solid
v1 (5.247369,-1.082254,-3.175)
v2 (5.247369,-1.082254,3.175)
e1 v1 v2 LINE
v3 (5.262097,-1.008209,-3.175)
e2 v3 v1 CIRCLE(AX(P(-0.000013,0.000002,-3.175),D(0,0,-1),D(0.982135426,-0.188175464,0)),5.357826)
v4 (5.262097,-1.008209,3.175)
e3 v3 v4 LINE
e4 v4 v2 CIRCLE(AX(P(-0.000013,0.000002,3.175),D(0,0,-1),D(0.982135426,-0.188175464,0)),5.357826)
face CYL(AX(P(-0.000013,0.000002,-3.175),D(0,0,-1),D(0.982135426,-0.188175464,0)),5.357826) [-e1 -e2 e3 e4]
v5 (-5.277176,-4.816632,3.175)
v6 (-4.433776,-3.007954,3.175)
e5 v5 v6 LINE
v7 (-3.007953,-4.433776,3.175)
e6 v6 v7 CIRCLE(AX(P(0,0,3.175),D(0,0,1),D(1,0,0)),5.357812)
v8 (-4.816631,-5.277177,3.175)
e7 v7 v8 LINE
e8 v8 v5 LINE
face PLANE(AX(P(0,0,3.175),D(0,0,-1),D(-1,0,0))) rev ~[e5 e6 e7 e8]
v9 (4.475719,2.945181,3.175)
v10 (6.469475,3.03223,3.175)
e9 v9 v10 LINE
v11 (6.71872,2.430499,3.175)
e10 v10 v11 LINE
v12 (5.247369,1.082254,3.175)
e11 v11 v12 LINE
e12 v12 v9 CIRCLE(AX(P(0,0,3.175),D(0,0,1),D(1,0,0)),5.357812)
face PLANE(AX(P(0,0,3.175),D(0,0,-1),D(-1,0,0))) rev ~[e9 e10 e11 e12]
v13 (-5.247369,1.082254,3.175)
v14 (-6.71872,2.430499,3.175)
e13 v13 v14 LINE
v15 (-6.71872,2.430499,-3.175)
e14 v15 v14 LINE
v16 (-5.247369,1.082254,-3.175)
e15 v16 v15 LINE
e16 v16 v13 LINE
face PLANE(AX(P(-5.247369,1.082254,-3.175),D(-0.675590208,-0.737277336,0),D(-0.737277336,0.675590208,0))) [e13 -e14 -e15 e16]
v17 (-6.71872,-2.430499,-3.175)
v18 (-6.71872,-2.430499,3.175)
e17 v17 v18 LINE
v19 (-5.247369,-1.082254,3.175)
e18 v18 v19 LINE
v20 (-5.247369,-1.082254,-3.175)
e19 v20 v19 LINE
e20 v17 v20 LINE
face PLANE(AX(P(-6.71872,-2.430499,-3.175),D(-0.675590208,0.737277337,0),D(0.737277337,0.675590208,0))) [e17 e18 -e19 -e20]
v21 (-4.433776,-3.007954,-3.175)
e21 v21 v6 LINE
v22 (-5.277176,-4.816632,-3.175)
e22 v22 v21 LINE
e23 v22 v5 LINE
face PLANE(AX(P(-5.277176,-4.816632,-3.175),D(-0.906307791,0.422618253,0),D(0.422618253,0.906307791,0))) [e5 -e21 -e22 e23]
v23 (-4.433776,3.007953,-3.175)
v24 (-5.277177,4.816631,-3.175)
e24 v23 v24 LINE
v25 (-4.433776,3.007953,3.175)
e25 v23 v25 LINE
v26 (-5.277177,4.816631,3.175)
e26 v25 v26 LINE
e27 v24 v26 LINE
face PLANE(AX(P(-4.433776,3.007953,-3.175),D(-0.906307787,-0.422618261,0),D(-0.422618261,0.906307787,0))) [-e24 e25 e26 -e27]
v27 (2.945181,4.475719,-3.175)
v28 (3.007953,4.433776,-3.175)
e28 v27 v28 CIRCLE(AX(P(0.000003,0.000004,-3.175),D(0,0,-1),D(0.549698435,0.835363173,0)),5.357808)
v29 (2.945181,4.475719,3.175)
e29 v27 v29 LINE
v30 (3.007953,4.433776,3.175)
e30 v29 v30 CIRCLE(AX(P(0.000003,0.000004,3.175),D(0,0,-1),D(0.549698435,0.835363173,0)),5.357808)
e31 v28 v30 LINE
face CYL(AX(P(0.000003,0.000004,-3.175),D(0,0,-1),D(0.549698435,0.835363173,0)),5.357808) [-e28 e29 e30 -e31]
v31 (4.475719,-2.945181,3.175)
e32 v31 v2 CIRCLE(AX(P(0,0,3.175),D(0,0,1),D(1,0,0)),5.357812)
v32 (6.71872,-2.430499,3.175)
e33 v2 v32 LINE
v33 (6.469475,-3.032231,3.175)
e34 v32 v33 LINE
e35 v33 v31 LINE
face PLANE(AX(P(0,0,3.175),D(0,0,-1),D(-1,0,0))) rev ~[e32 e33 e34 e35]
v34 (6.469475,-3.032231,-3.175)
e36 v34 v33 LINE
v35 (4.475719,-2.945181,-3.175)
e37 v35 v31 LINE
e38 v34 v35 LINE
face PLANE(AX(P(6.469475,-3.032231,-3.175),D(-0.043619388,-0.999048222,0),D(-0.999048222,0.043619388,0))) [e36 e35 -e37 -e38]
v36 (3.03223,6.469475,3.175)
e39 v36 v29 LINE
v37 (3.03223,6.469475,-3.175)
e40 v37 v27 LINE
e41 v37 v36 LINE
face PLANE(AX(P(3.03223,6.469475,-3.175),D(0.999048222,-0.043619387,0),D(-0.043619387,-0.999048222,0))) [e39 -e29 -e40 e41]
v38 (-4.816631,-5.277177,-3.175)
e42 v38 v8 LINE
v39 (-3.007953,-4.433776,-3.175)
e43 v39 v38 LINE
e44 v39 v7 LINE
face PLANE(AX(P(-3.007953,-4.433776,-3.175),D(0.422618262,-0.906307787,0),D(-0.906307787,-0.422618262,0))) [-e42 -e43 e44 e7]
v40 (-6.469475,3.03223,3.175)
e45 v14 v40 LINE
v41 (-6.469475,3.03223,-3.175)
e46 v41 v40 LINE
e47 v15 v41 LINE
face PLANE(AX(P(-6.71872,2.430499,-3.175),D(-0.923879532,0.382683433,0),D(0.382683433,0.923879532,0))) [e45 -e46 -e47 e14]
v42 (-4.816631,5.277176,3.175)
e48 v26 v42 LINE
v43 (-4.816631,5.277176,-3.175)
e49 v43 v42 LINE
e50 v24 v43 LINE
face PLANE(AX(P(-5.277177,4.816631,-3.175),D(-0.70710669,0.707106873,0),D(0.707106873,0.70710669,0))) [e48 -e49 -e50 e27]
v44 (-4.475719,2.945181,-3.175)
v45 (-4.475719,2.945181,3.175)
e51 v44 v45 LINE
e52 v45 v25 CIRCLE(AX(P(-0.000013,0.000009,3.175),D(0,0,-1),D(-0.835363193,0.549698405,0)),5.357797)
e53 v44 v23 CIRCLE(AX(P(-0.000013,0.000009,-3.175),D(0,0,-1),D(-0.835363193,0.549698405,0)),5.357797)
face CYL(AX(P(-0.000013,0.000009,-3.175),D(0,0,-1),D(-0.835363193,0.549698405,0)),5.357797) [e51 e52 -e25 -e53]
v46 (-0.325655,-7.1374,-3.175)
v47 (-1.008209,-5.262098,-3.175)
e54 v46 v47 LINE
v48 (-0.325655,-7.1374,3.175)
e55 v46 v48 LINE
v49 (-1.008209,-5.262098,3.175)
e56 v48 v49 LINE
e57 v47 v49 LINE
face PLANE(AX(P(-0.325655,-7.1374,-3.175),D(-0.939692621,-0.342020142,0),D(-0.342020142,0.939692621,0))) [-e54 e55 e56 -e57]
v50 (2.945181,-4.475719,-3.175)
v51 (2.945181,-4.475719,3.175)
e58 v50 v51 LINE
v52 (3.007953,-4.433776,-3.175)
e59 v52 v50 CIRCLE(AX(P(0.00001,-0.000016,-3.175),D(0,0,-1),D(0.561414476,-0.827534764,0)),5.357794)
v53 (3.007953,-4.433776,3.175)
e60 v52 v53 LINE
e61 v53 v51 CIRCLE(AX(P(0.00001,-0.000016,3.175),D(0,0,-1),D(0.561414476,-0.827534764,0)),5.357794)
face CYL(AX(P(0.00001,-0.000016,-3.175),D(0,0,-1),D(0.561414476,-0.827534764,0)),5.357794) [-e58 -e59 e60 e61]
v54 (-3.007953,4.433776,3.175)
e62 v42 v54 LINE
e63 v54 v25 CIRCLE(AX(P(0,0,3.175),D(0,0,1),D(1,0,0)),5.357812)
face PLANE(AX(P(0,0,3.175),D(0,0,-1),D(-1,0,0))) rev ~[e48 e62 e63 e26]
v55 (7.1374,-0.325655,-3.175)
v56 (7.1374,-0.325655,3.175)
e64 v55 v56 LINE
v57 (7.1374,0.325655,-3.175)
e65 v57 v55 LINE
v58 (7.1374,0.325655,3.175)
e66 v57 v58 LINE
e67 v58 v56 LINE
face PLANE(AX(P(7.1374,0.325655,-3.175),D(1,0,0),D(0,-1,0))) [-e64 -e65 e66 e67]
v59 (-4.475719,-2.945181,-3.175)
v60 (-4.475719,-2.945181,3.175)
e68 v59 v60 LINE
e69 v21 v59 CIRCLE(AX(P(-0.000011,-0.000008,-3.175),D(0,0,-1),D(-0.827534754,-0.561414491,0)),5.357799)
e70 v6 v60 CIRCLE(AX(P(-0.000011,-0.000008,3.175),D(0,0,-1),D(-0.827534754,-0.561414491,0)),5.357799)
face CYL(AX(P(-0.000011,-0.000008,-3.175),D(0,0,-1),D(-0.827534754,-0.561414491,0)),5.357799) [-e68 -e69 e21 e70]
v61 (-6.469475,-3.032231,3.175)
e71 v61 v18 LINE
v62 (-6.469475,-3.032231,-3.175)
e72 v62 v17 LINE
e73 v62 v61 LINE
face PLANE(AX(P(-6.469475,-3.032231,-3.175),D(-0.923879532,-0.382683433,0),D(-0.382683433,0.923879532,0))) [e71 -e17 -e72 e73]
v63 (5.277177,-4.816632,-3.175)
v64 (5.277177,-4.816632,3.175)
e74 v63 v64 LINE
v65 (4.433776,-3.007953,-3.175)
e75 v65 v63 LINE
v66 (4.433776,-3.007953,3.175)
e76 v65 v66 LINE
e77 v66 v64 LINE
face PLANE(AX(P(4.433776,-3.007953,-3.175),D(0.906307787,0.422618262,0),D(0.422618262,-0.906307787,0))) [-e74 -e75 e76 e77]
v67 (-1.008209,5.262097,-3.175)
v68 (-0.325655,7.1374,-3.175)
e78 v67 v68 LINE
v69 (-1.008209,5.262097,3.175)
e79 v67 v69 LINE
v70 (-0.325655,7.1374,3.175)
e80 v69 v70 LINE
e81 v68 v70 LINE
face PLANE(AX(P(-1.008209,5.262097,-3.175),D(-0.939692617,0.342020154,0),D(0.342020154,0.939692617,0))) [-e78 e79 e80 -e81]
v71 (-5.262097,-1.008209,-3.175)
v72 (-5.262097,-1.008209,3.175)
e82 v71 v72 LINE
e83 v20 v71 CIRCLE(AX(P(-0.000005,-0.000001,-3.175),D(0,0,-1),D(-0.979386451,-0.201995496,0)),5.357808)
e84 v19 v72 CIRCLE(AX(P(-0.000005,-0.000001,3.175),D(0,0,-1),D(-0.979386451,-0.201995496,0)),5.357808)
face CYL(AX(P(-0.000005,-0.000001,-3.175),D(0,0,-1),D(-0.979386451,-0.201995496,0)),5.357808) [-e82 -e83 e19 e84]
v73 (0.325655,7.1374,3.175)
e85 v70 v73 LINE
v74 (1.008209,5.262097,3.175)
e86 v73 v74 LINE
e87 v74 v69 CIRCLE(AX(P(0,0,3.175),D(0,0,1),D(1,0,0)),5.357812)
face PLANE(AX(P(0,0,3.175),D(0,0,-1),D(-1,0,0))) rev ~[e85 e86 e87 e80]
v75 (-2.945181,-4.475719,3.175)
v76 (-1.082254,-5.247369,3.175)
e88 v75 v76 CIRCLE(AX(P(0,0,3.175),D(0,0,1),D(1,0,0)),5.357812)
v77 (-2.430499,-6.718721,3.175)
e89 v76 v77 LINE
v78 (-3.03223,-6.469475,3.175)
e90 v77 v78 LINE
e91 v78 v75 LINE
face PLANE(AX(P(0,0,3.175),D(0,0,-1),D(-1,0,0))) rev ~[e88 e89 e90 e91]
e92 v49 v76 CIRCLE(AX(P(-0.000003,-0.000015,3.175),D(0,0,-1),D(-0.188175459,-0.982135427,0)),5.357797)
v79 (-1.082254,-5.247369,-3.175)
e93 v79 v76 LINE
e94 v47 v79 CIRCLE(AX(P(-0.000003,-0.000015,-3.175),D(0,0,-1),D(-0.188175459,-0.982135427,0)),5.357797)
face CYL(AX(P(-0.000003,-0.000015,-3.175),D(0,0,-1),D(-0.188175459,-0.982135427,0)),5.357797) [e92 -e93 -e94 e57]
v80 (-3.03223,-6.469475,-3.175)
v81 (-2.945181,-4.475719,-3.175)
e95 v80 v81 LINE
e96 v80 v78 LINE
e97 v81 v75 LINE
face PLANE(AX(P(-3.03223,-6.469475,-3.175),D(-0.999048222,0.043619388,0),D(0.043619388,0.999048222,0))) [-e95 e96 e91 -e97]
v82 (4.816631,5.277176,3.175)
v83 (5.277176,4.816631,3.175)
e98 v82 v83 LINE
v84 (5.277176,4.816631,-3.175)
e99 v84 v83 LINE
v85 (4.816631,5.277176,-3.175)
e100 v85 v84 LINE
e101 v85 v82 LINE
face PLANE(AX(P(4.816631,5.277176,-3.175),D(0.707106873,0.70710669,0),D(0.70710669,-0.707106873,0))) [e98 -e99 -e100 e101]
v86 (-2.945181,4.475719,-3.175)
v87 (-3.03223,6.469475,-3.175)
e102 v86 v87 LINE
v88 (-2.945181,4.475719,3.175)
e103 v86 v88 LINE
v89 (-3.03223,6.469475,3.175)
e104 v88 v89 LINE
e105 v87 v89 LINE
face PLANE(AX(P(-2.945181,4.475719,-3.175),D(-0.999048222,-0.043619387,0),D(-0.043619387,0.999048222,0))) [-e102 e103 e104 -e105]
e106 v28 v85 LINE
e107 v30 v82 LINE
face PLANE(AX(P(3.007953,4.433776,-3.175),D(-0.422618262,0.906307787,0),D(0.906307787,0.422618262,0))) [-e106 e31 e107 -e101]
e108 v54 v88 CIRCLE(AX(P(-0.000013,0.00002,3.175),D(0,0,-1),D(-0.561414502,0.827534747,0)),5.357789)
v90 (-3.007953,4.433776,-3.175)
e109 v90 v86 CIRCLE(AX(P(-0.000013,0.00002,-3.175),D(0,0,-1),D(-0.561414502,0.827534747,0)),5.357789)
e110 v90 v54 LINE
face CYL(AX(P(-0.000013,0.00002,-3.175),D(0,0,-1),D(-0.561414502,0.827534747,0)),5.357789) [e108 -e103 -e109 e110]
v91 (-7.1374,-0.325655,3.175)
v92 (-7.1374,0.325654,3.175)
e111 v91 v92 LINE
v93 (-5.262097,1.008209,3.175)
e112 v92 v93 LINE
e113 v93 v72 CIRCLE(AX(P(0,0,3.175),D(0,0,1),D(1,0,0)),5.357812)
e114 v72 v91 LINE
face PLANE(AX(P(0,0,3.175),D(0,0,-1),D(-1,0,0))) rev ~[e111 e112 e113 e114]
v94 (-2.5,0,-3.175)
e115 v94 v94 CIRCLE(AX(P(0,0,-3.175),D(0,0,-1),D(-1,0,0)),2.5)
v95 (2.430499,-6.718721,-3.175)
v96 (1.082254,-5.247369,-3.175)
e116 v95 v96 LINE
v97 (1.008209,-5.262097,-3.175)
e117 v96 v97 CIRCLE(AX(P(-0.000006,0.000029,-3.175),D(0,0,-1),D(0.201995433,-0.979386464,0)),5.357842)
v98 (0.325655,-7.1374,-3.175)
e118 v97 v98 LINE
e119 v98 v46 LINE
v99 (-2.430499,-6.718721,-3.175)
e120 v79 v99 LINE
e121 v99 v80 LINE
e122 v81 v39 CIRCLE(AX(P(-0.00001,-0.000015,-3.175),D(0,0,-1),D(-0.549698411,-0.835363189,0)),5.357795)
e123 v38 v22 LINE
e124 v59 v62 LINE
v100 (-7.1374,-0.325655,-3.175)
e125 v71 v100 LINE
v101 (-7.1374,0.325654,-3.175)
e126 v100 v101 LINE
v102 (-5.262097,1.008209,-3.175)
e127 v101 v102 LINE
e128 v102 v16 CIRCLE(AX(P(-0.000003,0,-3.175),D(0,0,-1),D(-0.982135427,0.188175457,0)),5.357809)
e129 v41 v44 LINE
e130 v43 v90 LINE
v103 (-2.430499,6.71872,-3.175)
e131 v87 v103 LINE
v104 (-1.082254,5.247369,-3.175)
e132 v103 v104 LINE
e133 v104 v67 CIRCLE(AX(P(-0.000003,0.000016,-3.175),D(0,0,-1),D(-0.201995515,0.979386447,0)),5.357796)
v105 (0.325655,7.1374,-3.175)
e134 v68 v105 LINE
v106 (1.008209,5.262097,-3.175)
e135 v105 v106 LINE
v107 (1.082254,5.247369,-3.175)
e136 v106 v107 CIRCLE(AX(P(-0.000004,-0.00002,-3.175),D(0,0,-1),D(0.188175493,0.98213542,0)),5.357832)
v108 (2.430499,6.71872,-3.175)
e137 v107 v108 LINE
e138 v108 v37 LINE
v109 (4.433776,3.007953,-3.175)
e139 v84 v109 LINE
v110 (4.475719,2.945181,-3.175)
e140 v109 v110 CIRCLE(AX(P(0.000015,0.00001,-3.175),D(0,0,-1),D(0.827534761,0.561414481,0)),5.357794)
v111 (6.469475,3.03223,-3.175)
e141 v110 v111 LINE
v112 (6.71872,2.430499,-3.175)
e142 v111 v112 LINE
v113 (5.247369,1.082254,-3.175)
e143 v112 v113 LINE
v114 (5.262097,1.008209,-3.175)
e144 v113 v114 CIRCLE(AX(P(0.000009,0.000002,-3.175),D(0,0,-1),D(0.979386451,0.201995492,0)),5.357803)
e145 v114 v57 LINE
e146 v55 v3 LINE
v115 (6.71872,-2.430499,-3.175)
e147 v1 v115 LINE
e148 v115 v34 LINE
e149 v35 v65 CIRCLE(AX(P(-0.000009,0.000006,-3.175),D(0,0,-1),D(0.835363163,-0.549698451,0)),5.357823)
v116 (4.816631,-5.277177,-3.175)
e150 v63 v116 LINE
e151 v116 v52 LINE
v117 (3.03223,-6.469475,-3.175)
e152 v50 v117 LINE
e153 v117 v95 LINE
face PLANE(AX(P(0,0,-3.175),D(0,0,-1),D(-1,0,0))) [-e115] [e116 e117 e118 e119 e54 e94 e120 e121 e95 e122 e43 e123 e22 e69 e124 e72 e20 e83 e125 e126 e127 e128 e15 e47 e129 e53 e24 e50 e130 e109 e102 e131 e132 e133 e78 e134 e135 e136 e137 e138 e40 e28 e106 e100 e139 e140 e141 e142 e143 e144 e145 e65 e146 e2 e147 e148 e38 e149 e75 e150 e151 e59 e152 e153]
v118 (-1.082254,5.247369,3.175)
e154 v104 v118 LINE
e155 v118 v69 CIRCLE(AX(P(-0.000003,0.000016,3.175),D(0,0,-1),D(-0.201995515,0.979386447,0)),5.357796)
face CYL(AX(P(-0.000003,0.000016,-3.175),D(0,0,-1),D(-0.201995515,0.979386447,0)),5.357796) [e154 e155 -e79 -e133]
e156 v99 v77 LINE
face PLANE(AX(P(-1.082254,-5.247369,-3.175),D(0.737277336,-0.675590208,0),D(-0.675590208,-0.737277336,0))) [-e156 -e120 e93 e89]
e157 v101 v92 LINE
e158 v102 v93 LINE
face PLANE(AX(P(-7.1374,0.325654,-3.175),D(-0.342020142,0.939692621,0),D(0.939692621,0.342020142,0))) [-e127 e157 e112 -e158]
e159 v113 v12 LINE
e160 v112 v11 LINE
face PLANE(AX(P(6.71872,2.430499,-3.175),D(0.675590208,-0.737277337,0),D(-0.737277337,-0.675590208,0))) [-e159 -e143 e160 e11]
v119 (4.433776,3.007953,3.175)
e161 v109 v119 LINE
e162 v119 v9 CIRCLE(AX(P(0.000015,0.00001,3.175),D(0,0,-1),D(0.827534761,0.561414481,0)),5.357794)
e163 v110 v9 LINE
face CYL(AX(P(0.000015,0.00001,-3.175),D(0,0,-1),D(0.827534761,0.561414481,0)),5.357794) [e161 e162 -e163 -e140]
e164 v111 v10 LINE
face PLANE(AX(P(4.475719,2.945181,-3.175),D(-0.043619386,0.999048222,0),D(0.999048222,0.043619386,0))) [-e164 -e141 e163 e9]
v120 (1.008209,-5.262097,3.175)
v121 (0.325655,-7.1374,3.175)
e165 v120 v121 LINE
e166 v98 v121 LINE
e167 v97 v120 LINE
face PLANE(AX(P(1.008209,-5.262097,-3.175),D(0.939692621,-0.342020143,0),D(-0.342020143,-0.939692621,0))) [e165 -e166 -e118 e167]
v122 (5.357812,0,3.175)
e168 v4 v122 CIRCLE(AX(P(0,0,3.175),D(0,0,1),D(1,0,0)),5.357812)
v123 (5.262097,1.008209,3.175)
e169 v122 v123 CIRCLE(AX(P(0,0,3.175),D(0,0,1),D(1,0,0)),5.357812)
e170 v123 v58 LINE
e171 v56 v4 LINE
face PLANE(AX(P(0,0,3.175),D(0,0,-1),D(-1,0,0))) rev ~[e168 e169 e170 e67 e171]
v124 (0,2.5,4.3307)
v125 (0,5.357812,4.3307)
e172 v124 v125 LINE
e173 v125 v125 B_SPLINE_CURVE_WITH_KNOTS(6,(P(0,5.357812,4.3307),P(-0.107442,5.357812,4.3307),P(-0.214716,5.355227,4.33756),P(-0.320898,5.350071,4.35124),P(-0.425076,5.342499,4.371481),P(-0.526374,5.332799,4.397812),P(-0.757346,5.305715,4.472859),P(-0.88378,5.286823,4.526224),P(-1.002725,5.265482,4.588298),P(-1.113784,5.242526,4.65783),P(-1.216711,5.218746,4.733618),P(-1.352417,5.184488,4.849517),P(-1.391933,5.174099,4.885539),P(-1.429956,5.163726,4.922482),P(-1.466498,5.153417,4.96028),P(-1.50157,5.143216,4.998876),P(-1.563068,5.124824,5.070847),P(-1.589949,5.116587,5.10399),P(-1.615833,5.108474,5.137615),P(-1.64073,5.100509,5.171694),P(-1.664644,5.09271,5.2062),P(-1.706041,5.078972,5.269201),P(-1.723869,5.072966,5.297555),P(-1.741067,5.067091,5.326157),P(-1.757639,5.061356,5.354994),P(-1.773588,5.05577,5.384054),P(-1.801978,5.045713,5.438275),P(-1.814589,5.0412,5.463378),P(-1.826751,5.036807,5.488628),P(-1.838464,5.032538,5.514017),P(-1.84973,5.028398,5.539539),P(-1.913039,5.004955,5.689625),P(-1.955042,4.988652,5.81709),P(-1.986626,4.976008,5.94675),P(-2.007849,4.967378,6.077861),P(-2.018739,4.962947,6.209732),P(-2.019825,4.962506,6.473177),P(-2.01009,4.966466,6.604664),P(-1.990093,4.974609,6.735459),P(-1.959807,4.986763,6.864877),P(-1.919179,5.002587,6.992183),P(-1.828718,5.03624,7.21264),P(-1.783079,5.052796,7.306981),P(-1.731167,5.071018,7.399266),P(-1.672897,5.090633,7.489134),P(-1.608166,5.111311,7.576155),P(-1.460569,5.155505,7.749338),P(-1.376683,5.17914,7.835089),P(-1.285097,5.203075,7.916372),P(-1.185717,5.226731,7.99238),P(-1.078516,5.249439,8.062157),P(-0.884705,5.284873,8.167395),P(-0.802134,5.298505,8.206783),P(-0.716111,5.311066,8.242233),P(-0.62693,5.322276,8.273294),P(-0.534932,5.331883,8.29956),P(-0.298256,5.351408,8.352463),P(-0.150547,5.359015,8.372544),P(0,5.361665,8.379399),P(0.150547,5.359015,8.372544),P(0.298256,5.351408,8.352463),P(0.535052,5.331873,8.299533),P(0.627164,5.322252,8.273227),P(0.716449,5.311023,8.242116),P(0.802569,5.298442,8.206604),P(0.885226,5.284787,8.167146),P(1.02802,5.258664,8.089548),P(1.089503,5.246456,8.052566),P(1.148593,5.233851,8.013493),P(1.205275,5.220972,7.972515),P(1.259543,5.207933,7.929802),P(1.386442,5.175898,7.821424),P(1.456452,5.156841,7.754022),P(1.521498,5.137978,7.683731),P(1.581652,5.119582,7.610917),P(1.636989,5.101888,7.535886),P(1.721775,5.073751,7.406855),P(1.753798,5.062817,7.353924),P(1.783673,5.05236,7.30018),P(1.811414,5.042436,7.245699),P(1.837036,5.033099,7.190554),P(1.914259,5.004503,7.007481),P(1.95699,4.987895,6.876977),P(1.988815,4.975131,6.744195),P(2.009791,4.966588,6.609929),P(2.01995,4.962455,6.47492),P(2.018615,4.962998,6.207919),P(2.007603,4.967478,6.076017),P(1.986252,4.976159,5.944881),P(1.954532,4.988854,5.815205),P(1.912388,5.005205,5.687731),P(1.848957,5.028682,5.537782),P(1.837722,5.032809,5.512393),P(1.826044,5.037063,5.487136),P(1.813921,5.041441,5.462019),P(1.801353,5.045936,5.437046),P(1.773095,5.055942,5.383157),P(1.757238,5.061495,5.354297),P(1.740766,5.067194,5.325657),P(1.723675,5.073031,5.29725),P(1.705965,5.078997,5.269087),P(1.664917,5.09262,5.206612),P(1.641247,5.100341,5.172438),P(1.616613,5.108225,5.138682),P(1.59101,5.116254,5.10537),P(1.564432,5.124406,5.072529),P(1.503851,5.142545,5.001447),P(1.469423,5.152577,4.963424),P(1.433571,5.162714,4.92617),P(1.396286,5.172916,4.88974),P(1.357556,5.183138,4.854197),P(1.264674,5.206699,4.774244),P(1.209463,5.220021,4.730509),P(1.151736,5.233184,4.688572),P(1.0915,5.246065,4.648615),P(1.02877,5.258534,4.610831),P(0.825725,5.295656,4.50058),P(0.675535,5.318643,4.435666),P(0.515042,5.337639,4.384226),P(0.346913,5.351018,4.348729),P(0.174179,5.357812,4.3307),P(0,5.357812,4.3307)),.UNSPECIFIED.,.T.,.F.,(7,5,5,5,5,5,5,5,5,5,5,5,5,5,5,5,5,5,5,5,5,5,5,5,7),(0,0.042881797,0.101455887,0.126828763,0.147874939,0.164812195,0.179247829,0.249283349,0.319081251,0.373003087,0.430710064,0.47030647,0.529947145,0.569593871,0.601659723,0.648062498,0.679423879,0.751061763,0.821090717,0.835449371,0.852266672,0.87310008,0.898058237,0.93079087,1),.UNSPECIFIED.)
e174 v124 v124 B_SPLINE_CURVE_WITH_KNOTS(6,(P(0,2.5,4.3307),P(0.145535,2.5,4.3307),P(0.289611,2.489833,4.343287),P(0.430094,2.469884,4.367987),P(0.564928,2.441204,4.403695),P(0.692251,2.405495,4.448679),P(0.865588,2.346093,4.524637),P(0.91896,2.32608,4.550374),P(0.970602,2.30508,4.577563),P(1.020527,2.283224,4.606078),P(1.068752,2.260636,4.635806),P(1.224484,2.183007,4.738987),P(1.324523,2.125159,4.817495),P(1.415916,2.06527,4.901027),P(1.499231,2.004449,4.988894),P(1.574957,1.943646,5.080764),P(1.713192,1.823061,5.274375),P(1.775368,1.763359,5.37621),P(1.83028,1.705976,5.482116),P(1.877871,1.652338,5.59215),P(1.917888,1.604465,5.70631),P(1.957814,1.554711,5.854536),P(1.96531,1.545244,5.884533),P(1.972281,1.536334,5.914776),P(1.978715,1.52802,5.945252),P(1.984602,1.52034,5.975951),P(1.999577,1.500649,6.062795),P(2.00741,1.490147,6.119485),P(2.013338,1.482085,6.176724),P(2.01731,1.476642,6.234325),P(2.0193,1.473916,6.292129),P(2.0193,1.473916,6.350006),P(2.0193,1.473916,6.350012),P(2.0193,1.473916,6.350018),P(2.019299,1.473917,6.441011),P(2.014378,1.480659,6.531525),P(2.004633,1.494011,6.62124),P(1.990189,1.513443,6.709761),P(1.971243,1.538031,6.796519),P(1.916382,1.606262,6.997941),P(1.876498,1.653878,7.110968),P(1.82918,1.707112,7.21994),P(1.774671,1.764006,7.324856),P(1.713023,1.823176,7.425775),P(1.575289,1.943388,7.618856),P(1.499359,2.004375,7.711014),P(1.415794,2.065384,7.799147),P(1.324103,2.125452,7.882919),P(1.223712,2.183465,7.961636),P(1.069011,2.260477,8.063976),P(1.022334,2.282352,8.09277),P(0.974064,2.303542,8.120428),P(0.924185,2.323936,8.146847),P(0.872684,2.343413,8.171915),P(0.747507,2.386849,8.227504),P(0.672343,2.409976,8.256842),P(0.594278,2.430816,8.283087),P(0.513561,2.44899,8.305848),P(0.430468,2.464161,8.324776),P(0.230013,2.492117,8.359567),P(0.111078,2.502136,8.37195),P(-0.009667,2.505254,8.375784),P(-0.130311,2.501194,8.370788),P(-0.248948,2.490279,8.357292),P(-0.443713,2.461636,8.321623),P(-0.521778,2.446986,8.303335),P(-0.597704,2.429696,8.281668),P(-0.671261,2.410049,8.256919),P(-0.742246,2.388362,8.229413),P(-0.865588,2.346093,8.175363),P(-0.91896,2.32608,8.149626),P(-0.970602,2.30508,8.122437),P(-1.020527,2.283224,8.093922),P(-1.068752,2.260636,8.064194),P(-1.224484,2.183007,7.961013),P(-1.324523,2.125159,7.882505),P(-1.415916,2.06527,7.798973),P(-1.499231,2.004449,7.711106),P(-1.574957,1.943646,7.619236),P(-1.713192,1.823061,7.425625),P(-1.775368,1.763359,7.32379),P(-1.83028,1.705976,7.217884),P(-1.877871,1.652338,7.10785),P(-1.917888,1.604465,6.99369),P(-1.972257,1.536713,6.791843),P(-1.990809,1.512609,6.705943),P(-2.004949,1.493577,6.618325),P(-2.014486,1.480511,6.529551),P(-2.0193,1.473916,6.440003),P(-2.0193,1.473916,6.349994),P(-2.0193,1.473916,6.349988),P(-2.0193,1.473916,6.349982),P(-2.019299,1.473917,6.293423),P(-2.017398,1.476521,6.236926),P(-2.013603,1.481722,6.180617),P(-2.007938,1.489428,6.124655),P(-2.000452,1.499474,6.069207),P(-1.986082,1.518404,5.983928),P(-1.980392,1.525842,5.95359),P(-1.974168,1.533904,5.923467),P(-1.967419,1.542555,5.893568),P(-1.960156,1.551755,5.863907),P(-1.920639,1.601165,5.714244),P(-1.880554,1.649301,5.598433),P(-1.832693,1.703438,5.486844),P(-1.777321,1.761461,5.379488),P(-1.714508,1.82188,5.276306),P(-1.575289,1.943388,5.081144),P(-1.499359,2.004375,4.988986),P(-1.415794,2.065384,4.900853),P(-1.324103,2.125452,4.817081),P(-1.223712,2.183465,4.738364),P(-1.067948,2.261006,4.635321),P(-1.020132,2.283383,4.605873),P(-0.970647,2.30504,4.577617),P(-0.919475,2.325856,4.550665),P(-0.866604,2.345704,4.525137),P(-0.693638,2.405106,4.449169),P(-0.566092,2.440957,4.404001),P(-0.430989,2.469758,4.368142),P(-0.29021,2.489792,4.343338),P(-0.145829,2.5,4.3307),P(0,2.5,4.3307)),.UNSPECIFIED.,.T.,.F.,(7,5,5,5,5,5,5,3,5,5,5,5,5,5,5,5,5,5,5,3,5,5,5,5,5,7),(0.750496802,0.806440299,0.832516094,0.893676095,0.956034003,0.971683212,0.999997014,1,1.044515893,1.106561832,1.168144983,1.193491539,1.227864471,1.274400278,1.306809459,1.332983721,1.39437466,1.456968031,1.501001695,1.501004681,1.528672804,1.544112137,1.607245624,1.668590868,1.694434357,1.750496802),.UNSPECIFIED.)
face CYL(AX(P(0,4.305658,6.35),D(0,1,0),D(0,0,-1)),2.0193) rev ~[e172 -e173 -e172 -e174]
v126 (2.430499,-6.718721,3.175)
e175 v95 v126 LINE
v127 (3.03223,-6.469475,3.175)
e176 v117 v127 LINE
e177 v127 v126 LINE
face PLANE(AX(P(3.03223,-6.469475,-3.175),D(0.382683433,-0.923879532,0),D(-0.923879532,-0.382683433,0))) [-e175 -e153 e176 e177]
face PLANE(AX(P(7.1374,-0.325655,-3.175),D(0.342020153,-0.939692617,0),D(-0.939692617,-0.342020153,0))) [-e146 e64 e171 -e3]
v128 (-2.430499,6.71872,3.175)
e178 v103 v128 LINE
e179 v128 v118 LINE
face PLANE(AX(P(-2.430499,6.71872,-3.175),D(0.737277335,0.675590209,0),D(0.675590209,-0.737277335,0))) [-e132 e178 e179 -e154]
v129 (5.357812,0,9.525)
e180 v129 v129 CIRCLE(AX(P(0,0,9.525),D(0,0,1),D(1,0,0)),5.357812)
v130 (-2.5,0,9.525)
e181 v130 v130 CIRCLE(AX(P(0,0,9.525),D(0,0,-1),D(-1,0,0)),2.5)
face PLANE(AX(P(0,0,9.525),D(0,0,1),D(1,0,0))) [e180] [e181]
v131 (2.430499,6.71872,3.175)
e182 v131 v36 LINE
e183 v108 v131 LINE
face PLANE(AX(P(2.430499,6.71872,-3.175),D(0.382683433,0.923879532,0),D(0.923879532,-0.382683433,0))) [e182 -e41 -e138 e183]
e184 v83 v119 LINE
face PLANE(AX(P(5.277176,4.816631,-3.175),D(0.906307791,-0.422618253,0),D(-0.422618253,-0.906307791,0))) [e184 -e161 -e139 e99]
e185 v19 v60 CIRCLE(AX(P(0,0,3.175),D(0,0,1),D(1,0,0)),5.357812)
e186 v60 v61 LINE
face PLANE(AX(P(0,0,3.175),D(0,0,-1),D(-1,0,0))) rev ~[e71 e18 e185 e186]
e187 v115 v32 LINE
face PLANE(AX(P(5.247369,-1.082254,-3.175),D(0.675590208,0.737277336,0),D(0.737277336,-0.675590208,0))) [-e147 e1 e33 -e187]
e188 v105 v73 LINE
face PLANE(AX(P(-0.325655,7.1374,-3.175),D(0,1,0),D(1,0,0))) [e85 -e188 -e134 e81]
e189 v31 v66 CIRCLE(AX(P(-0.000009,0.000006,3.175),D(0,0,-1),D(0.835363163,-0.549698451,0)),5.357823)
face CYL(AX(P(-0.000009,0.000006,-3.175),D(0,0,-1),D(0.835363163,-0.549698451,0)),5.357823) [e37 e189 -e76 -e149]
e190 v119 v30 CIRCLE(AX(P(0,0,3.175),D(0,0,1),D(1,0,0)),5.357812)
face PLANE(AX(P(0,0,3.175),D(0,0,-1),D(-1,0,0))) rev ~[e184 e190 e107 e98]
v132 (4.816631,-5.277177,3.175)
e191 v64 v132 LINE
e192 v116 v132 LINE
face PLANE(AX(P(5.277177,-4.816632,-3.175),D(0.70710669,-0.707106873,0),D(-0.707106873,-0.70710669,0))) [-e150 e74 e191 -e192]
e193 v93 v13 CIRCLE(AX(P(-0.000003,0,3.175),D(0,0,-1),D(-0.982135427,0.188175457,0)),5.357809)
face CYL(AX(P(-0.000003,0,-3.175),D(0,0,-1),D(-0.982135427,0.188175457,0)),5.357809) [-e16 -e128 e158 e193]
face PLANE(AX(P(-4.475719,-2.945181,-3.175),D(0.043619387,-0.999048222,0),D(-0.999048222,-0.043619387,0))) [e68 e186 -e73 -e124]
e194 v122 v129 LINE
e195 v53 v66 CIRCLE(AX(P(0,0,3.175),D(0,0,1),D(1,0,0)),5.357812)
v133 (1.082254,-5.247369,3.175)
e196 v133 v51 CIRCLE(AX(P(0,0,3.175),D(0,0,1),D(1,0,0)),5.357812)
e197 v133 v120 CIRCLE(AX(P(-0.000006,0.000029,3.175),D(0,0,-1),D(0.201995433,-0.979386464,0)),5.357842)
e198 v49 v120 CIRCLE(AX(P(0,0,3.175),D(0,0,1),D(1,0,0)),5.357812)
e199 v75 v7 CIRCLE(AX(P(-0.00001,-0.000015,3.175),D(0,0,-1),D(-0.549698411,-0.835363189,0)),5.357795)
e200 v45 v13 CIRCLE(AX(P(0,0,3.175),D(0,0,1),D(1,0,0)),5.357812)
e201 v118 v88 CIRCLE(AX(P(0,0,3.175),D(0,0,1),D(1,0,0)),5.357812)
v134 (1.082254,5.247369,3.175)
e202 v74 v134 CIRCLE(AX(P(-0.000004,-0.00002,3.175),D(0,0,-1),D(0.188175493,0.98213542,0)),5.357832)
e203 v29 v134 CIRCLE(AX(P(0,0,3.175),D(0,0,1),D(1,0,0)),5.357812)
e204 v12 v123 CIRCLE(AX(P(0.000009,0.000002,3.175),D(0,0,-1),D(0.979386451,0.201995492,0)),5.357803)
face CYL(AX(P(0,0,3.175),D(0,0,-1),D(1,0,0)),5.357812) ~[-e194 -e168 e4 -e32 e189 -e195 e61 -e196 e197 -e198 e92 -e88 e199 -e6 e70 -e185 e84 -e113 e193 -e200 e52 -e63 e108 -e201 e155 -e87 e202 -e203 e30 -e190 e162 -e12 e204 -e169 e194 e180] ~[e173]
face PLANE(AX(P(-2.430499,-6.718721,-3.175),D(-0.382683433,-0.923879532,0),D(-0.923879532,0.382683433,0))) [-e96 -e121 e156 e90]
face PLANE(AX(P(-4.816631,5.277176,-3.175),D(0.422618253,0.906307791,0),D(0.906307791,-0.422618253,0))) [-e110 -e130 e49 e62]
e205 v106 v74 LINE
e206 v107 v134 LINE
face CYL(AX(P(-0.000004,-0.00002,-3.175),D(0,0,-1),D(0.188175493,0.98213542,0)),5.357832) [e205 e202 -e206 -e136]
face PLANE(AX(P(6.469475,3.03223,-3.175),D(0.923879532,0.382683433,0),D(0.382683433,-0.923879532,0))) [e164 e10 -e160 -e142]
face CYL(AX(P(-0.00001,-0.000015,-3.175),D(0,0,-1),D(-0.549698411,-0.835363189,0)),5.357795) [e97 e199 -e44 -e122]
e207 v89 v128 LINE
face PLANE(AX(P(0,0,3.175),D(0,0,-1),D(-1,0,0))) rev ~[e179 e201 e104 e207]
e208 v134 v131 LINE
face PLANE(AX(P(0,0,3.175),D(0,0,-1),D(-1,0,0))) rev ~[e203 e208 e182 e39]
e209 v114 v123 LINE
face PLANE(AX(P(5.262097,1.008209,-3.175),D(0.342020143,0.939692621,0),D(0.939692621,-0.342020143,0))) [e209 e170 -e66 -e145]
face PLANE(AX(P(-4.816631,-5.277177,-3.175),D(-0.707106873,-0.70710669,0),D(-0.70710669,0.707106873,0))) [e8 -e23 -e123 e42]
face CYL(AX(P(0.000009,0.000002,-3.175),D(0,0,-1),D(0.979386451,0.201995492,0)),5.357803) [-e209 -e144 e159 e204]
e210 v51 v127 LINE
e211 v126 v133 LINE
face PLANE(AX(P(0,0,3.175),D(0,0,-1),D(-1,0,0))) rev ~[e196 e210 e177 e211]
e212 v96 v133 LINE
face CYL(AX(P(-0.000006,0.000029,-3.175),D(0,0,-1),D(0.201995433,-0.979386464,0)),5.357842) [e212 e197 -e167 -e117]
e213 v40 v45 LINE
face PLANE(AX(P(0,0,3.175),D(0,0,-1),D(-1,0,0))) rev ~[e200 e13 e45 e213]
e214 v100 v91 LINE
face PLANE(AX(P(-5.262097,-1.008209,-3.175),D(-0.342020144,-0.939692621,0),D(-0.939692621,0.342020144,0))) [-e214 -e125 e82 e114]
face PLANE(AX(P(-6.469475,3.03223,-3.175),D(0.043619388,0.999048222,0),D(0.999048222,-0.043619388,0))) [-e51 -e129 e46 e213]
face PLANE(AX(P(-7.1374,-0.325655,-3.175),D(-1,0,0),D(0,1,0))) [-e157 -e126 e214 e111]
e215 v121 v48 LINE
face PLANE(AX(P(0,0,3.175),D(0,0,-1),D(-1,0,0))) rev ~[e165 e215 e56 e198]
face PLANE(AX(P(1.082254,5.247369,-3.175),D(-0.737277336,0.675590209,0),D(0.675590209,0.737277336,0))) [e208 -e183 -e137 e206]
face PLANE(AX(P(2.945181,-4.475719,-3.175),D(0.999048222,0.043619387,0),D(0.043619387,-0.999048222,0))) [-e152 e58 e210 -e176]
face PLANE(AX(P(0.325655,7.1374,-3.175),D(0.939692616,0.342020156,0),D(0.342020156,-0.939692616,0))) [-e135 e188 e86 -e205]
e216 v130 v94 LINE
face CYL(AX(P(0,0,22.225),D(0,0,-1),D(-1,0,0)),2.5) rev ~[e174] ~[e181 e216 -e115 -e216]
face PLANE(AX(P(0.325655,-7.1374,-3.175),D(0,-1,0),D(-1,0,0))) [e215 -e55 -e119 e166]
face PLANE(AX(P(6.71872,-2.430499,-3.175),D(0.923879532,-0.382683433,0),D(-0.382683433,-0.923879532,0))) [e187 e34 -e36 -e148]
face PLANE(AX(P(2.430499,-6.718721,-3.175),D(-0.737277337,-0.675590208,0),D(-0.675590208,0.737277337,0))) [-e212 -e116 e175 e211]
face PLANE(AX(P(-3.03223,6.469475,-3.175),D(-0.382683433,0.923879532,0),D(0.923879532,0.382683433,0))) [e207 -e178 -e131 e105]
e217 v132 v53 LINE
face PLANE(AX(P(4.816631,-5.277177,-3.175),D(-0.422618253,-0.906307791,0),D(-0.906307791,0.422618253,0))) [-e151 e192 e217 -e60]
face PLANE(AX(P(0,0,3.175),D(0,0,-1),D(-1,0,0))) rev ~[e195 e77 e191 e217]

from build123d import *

# Parameters (mm, degrees)
BOSS_EXTRUDE1_DEPTH        = 6.35
SKETCH2_R                  = 5.357812451
BOSS_EXTRUDE2_DEPTH        = 6.35
F_10_CLEARANCE_HOLE1_D     = 5
F_10_CLEARANCE_HOLE1_DEPTH = 12.7
SKETCH5_W                  = 2.0193
SKETCH5_H                  = 5.66348411


with BuildPart() as part:
    # Sketch1 → Boss-Extrude1 (new body)
    with BuildSketch(Plane(origin=(0, 0, -3.175), x_dir=(-1, 0, 0), z_dir=(0, 0, -1))):
        with BuildLine():
            Line((-4.475719216, 2.94518093), (-6.469475121, 3.032230191))
            Line((-6.469475121, 3.032230191), (-6.718720366, 2.430498941))
            Line((-6.718720366, 2.430498941), (-5.247368905, 1.082253729))
            ThreePointArc((-5.247368905, 1.082253729), (-5.25486353, 1.045257315), (-5.262097316, 1.008209016))
            Line((-5.262097316, 1.008209016), (-7.137399981, 0.325654666))
            Line((-7.137399981, 0.325654666), (-7.137399981, -0.325654551))
            Line((-7.137399981, -0.325654551), (-5.262097381, -1.008208899))
            ThreePointArc((-5.262097381, -1.008208899), (-5.254863555, -1.045257412), (-5.247368888, -1.08225404))
            Line((-5.247368888, -1.08225404), (-6.718720366, -2.43049927))
            Line((-6.718720366, -2.43049927), (-6.469475121, -3.03223052))
            Line((-6.469475121, -3.03223052), (-4.475719151, -2.945181254))
            ThreePointArc((-4.475719151, -2.945181254), (-4.454858201, -2.97664122), (-4.433776122, -3.007953433))
            Line((-4.433776122, -3.007953433), (-5.277176571, -4.816631533))
            Line((-5.277176571, -4.816631533), (-4.816631353, -5.277176632))
            Line((-4.816631353, -5.277176632), (-3.007953331, -4.433776241))
            ThreePointArc((-3.007953331, -4.433776241), (-2.976641072, -4.454858352), (-2.945181059, -4.475719332))
            Line((-2.945181059, -4.475719332), (-3.032230324, -6.469475317))
            Line((-3.032230324, -6.469475317), (-2.430499074, -6.718720562))
            Line((-2.430499074, -6.718720562), (-1.082253821, -5.247369057))
            ThreePointArc((-1.082253821, -5.247369057), (-1.045257355, -5.254863691), (-1.008209005, -5.262097487))
            Line((-1.008209005, -5.262097487), (-0.325654634, -7.137400208))
            Line((-0.325654634, -7.137400208), (0.325654583, -7.137400208))
            Line((0.325654583, -7.137400208), (1.008208941, -5.262097516))
            ThreePointArc((1.008208941, -5.262097516), (1.045257356, -5.254863709), (1.082253886, -5.247369061))
            Line((1.082253886, -5.247369061), (2.430499137, -6.718720562))
            Line((2.430499137, -6.718720562), (3.032230387, -6.469475317))
            Line((3.032230387, -6.469475317), (2.945181121, -4.475719349))
            ThreePointArc((2.945181121, -4.475719349), (2.976641089, -4.454858399), (3.007953303, -4.433776319))
            Line((3.007953303, -4.433776319), (4.8166314, -5.277176767))
            Line((4.8166314, -5.277176767), (5.277176499, -4.816631549))
            Line((5.277176499, -4.816631549), (4.433776123, -3.007953559))
            ThreePointArc((4.433776123, -3.007953559), (4.454858245, -2.976641285), (4.475719236, -2.945181257))
            Line((4.475719236, -2.945181257), (6.469475184, -3.03223052))
            Line((6.469475184, -3.03223052), (6.718720429, -2.43049927))
            Line((6.718720429, -2.43049927), (5.247368971, -1.08225406))
            ThreePointArc((5.247368971, -1.08225406), (5.254863613, -1.045257562), (5.262097415, -1.008209179))
            Line((5.262097415, -1.008209179), (7.137400075, -0.32565483))
            Line((7.137400075, -0.32565483), (7.137400075, 0.325654387))
            Line((7.137400075, 0.325654387), (5.26209746, 1.008208717))
            ThreePointArc((5.26209746, 1.008208717), (5.254863645, 1.045257174), (5.247368989, 1.082253746))
            Line((5.247368989, 1.082253746), (6.718720429, 2.430498941))
            Line((6.718720429, 2.430498941), (6.469475184, 3.032230191))
            Line((6.469475184, 3.032230191), (4.475719304, 2.945180929))
            ThreePointArc((4.475719304, 2.945180929), (4.454858329, 2.976640935), (4.433776224, 3.007953186))
            Line((4.433776224, 3.007953186), (5.277176634, 4.816631204))
            Line((5.277176634, 4.816631204), (4.816631416, 5.277176303))
            Line((4.816631416, 5.277176303), (3.007953499, 4.433775961))
            ThreePointArc((3.007953499, 4.433775961), (2.976641191, 4.454858106), (2.945181127, 4.47571912))
            Line((2.945181127, 4.47571912), (3.032230387, 6.469474988))
            Line((3.032230387, 6.469474988), (2.430499137, 6.718720233))
            Line((2.430499137, 6.718720233), (1.082253963, 5.24736882))
            ThreePointArc((1.082253963, 5.24736882), (1.045257437, 5.254863468), (1.008209026, 5.262097275))
            Line((1.008209026, 5.262097275), (0.325654697, 7.137399816))
            Line((0.325654697, 7.137399816), (-0.32565452, 7.137399816))
            Line((-0.32565452, 7.137399816), (-1.008208848, 5.262097292))
            ThreePointArc((-1.008208848, 5.262097292), (-1.045257316, 5.254863474), (-1.082253899, 5.247368816))
            Line((-1.082253899, 5.247368816), (-2.430499074, 6.718720233))
            Line((-2.430499074, 6.718720233), (-3.032230324, 6.469474988))
            Line((-3.032230324, 6.469474988), (-2.945181062, 4.475719106))
            ThreePointArc((-2.945181062, 4.475719106), (-2.976641066, 4.454858131), (-3.007953316, 4.433776026))
            Line((-3.007953316, 4.433776026), (-4.816631337, 5.277176438))
            Line((-4.816631337, 5.277176438), (-5.277176436, 4.81663122))
            Line((-5.277176436, 4.81663122), (-4.433776079, 3.007953271))
            ThreePointArc((-4.433776079, 3.007953271), (-4.454858213, 2.976640978), (-4.475719216, 2.94518093))
        make_face()
    extrude(amount=-BOSS_EXTRUDE1_DEPTH)

    # Sketch2 → Boss-Extrude2 (add)
    with BuildSketch(Plane.XY.offset(3.175)):
        with Locations((-1.2e-08, 5.2e-08)):
            Circle(SKETCH2_R)
    extrude(amount=BOSS_EXTRUDE2_DEPTH)

    # #10 Clearance Hole1
    with Locations(Plane.XY.offset(9.525)):
        with Locations((0, 0)):
            Hole(F_10_CLEARANCE_HOLE1_D / 2, depth=F_10_CLEARANCE_HOLE1_DEPTH)

    # Sketch5 → #21 (0.159) Diameter Hole1 (revolve, cut)
    with BuildSketch(Plane(origin=(0, 1.473915707, 6.35), x_dir=(0, 0, -1), z_dir=(1, 0, 0))):
        with Locations((1.00965, 2.831742055)):
            Rectangle(SKETCH5_W, SKETCH5_H)
    revolve(axis=Axis((0, -4.876084293, 6.35), (0, 1, 0)), mode=Mode.SUBTRACT)


solid = part.part
